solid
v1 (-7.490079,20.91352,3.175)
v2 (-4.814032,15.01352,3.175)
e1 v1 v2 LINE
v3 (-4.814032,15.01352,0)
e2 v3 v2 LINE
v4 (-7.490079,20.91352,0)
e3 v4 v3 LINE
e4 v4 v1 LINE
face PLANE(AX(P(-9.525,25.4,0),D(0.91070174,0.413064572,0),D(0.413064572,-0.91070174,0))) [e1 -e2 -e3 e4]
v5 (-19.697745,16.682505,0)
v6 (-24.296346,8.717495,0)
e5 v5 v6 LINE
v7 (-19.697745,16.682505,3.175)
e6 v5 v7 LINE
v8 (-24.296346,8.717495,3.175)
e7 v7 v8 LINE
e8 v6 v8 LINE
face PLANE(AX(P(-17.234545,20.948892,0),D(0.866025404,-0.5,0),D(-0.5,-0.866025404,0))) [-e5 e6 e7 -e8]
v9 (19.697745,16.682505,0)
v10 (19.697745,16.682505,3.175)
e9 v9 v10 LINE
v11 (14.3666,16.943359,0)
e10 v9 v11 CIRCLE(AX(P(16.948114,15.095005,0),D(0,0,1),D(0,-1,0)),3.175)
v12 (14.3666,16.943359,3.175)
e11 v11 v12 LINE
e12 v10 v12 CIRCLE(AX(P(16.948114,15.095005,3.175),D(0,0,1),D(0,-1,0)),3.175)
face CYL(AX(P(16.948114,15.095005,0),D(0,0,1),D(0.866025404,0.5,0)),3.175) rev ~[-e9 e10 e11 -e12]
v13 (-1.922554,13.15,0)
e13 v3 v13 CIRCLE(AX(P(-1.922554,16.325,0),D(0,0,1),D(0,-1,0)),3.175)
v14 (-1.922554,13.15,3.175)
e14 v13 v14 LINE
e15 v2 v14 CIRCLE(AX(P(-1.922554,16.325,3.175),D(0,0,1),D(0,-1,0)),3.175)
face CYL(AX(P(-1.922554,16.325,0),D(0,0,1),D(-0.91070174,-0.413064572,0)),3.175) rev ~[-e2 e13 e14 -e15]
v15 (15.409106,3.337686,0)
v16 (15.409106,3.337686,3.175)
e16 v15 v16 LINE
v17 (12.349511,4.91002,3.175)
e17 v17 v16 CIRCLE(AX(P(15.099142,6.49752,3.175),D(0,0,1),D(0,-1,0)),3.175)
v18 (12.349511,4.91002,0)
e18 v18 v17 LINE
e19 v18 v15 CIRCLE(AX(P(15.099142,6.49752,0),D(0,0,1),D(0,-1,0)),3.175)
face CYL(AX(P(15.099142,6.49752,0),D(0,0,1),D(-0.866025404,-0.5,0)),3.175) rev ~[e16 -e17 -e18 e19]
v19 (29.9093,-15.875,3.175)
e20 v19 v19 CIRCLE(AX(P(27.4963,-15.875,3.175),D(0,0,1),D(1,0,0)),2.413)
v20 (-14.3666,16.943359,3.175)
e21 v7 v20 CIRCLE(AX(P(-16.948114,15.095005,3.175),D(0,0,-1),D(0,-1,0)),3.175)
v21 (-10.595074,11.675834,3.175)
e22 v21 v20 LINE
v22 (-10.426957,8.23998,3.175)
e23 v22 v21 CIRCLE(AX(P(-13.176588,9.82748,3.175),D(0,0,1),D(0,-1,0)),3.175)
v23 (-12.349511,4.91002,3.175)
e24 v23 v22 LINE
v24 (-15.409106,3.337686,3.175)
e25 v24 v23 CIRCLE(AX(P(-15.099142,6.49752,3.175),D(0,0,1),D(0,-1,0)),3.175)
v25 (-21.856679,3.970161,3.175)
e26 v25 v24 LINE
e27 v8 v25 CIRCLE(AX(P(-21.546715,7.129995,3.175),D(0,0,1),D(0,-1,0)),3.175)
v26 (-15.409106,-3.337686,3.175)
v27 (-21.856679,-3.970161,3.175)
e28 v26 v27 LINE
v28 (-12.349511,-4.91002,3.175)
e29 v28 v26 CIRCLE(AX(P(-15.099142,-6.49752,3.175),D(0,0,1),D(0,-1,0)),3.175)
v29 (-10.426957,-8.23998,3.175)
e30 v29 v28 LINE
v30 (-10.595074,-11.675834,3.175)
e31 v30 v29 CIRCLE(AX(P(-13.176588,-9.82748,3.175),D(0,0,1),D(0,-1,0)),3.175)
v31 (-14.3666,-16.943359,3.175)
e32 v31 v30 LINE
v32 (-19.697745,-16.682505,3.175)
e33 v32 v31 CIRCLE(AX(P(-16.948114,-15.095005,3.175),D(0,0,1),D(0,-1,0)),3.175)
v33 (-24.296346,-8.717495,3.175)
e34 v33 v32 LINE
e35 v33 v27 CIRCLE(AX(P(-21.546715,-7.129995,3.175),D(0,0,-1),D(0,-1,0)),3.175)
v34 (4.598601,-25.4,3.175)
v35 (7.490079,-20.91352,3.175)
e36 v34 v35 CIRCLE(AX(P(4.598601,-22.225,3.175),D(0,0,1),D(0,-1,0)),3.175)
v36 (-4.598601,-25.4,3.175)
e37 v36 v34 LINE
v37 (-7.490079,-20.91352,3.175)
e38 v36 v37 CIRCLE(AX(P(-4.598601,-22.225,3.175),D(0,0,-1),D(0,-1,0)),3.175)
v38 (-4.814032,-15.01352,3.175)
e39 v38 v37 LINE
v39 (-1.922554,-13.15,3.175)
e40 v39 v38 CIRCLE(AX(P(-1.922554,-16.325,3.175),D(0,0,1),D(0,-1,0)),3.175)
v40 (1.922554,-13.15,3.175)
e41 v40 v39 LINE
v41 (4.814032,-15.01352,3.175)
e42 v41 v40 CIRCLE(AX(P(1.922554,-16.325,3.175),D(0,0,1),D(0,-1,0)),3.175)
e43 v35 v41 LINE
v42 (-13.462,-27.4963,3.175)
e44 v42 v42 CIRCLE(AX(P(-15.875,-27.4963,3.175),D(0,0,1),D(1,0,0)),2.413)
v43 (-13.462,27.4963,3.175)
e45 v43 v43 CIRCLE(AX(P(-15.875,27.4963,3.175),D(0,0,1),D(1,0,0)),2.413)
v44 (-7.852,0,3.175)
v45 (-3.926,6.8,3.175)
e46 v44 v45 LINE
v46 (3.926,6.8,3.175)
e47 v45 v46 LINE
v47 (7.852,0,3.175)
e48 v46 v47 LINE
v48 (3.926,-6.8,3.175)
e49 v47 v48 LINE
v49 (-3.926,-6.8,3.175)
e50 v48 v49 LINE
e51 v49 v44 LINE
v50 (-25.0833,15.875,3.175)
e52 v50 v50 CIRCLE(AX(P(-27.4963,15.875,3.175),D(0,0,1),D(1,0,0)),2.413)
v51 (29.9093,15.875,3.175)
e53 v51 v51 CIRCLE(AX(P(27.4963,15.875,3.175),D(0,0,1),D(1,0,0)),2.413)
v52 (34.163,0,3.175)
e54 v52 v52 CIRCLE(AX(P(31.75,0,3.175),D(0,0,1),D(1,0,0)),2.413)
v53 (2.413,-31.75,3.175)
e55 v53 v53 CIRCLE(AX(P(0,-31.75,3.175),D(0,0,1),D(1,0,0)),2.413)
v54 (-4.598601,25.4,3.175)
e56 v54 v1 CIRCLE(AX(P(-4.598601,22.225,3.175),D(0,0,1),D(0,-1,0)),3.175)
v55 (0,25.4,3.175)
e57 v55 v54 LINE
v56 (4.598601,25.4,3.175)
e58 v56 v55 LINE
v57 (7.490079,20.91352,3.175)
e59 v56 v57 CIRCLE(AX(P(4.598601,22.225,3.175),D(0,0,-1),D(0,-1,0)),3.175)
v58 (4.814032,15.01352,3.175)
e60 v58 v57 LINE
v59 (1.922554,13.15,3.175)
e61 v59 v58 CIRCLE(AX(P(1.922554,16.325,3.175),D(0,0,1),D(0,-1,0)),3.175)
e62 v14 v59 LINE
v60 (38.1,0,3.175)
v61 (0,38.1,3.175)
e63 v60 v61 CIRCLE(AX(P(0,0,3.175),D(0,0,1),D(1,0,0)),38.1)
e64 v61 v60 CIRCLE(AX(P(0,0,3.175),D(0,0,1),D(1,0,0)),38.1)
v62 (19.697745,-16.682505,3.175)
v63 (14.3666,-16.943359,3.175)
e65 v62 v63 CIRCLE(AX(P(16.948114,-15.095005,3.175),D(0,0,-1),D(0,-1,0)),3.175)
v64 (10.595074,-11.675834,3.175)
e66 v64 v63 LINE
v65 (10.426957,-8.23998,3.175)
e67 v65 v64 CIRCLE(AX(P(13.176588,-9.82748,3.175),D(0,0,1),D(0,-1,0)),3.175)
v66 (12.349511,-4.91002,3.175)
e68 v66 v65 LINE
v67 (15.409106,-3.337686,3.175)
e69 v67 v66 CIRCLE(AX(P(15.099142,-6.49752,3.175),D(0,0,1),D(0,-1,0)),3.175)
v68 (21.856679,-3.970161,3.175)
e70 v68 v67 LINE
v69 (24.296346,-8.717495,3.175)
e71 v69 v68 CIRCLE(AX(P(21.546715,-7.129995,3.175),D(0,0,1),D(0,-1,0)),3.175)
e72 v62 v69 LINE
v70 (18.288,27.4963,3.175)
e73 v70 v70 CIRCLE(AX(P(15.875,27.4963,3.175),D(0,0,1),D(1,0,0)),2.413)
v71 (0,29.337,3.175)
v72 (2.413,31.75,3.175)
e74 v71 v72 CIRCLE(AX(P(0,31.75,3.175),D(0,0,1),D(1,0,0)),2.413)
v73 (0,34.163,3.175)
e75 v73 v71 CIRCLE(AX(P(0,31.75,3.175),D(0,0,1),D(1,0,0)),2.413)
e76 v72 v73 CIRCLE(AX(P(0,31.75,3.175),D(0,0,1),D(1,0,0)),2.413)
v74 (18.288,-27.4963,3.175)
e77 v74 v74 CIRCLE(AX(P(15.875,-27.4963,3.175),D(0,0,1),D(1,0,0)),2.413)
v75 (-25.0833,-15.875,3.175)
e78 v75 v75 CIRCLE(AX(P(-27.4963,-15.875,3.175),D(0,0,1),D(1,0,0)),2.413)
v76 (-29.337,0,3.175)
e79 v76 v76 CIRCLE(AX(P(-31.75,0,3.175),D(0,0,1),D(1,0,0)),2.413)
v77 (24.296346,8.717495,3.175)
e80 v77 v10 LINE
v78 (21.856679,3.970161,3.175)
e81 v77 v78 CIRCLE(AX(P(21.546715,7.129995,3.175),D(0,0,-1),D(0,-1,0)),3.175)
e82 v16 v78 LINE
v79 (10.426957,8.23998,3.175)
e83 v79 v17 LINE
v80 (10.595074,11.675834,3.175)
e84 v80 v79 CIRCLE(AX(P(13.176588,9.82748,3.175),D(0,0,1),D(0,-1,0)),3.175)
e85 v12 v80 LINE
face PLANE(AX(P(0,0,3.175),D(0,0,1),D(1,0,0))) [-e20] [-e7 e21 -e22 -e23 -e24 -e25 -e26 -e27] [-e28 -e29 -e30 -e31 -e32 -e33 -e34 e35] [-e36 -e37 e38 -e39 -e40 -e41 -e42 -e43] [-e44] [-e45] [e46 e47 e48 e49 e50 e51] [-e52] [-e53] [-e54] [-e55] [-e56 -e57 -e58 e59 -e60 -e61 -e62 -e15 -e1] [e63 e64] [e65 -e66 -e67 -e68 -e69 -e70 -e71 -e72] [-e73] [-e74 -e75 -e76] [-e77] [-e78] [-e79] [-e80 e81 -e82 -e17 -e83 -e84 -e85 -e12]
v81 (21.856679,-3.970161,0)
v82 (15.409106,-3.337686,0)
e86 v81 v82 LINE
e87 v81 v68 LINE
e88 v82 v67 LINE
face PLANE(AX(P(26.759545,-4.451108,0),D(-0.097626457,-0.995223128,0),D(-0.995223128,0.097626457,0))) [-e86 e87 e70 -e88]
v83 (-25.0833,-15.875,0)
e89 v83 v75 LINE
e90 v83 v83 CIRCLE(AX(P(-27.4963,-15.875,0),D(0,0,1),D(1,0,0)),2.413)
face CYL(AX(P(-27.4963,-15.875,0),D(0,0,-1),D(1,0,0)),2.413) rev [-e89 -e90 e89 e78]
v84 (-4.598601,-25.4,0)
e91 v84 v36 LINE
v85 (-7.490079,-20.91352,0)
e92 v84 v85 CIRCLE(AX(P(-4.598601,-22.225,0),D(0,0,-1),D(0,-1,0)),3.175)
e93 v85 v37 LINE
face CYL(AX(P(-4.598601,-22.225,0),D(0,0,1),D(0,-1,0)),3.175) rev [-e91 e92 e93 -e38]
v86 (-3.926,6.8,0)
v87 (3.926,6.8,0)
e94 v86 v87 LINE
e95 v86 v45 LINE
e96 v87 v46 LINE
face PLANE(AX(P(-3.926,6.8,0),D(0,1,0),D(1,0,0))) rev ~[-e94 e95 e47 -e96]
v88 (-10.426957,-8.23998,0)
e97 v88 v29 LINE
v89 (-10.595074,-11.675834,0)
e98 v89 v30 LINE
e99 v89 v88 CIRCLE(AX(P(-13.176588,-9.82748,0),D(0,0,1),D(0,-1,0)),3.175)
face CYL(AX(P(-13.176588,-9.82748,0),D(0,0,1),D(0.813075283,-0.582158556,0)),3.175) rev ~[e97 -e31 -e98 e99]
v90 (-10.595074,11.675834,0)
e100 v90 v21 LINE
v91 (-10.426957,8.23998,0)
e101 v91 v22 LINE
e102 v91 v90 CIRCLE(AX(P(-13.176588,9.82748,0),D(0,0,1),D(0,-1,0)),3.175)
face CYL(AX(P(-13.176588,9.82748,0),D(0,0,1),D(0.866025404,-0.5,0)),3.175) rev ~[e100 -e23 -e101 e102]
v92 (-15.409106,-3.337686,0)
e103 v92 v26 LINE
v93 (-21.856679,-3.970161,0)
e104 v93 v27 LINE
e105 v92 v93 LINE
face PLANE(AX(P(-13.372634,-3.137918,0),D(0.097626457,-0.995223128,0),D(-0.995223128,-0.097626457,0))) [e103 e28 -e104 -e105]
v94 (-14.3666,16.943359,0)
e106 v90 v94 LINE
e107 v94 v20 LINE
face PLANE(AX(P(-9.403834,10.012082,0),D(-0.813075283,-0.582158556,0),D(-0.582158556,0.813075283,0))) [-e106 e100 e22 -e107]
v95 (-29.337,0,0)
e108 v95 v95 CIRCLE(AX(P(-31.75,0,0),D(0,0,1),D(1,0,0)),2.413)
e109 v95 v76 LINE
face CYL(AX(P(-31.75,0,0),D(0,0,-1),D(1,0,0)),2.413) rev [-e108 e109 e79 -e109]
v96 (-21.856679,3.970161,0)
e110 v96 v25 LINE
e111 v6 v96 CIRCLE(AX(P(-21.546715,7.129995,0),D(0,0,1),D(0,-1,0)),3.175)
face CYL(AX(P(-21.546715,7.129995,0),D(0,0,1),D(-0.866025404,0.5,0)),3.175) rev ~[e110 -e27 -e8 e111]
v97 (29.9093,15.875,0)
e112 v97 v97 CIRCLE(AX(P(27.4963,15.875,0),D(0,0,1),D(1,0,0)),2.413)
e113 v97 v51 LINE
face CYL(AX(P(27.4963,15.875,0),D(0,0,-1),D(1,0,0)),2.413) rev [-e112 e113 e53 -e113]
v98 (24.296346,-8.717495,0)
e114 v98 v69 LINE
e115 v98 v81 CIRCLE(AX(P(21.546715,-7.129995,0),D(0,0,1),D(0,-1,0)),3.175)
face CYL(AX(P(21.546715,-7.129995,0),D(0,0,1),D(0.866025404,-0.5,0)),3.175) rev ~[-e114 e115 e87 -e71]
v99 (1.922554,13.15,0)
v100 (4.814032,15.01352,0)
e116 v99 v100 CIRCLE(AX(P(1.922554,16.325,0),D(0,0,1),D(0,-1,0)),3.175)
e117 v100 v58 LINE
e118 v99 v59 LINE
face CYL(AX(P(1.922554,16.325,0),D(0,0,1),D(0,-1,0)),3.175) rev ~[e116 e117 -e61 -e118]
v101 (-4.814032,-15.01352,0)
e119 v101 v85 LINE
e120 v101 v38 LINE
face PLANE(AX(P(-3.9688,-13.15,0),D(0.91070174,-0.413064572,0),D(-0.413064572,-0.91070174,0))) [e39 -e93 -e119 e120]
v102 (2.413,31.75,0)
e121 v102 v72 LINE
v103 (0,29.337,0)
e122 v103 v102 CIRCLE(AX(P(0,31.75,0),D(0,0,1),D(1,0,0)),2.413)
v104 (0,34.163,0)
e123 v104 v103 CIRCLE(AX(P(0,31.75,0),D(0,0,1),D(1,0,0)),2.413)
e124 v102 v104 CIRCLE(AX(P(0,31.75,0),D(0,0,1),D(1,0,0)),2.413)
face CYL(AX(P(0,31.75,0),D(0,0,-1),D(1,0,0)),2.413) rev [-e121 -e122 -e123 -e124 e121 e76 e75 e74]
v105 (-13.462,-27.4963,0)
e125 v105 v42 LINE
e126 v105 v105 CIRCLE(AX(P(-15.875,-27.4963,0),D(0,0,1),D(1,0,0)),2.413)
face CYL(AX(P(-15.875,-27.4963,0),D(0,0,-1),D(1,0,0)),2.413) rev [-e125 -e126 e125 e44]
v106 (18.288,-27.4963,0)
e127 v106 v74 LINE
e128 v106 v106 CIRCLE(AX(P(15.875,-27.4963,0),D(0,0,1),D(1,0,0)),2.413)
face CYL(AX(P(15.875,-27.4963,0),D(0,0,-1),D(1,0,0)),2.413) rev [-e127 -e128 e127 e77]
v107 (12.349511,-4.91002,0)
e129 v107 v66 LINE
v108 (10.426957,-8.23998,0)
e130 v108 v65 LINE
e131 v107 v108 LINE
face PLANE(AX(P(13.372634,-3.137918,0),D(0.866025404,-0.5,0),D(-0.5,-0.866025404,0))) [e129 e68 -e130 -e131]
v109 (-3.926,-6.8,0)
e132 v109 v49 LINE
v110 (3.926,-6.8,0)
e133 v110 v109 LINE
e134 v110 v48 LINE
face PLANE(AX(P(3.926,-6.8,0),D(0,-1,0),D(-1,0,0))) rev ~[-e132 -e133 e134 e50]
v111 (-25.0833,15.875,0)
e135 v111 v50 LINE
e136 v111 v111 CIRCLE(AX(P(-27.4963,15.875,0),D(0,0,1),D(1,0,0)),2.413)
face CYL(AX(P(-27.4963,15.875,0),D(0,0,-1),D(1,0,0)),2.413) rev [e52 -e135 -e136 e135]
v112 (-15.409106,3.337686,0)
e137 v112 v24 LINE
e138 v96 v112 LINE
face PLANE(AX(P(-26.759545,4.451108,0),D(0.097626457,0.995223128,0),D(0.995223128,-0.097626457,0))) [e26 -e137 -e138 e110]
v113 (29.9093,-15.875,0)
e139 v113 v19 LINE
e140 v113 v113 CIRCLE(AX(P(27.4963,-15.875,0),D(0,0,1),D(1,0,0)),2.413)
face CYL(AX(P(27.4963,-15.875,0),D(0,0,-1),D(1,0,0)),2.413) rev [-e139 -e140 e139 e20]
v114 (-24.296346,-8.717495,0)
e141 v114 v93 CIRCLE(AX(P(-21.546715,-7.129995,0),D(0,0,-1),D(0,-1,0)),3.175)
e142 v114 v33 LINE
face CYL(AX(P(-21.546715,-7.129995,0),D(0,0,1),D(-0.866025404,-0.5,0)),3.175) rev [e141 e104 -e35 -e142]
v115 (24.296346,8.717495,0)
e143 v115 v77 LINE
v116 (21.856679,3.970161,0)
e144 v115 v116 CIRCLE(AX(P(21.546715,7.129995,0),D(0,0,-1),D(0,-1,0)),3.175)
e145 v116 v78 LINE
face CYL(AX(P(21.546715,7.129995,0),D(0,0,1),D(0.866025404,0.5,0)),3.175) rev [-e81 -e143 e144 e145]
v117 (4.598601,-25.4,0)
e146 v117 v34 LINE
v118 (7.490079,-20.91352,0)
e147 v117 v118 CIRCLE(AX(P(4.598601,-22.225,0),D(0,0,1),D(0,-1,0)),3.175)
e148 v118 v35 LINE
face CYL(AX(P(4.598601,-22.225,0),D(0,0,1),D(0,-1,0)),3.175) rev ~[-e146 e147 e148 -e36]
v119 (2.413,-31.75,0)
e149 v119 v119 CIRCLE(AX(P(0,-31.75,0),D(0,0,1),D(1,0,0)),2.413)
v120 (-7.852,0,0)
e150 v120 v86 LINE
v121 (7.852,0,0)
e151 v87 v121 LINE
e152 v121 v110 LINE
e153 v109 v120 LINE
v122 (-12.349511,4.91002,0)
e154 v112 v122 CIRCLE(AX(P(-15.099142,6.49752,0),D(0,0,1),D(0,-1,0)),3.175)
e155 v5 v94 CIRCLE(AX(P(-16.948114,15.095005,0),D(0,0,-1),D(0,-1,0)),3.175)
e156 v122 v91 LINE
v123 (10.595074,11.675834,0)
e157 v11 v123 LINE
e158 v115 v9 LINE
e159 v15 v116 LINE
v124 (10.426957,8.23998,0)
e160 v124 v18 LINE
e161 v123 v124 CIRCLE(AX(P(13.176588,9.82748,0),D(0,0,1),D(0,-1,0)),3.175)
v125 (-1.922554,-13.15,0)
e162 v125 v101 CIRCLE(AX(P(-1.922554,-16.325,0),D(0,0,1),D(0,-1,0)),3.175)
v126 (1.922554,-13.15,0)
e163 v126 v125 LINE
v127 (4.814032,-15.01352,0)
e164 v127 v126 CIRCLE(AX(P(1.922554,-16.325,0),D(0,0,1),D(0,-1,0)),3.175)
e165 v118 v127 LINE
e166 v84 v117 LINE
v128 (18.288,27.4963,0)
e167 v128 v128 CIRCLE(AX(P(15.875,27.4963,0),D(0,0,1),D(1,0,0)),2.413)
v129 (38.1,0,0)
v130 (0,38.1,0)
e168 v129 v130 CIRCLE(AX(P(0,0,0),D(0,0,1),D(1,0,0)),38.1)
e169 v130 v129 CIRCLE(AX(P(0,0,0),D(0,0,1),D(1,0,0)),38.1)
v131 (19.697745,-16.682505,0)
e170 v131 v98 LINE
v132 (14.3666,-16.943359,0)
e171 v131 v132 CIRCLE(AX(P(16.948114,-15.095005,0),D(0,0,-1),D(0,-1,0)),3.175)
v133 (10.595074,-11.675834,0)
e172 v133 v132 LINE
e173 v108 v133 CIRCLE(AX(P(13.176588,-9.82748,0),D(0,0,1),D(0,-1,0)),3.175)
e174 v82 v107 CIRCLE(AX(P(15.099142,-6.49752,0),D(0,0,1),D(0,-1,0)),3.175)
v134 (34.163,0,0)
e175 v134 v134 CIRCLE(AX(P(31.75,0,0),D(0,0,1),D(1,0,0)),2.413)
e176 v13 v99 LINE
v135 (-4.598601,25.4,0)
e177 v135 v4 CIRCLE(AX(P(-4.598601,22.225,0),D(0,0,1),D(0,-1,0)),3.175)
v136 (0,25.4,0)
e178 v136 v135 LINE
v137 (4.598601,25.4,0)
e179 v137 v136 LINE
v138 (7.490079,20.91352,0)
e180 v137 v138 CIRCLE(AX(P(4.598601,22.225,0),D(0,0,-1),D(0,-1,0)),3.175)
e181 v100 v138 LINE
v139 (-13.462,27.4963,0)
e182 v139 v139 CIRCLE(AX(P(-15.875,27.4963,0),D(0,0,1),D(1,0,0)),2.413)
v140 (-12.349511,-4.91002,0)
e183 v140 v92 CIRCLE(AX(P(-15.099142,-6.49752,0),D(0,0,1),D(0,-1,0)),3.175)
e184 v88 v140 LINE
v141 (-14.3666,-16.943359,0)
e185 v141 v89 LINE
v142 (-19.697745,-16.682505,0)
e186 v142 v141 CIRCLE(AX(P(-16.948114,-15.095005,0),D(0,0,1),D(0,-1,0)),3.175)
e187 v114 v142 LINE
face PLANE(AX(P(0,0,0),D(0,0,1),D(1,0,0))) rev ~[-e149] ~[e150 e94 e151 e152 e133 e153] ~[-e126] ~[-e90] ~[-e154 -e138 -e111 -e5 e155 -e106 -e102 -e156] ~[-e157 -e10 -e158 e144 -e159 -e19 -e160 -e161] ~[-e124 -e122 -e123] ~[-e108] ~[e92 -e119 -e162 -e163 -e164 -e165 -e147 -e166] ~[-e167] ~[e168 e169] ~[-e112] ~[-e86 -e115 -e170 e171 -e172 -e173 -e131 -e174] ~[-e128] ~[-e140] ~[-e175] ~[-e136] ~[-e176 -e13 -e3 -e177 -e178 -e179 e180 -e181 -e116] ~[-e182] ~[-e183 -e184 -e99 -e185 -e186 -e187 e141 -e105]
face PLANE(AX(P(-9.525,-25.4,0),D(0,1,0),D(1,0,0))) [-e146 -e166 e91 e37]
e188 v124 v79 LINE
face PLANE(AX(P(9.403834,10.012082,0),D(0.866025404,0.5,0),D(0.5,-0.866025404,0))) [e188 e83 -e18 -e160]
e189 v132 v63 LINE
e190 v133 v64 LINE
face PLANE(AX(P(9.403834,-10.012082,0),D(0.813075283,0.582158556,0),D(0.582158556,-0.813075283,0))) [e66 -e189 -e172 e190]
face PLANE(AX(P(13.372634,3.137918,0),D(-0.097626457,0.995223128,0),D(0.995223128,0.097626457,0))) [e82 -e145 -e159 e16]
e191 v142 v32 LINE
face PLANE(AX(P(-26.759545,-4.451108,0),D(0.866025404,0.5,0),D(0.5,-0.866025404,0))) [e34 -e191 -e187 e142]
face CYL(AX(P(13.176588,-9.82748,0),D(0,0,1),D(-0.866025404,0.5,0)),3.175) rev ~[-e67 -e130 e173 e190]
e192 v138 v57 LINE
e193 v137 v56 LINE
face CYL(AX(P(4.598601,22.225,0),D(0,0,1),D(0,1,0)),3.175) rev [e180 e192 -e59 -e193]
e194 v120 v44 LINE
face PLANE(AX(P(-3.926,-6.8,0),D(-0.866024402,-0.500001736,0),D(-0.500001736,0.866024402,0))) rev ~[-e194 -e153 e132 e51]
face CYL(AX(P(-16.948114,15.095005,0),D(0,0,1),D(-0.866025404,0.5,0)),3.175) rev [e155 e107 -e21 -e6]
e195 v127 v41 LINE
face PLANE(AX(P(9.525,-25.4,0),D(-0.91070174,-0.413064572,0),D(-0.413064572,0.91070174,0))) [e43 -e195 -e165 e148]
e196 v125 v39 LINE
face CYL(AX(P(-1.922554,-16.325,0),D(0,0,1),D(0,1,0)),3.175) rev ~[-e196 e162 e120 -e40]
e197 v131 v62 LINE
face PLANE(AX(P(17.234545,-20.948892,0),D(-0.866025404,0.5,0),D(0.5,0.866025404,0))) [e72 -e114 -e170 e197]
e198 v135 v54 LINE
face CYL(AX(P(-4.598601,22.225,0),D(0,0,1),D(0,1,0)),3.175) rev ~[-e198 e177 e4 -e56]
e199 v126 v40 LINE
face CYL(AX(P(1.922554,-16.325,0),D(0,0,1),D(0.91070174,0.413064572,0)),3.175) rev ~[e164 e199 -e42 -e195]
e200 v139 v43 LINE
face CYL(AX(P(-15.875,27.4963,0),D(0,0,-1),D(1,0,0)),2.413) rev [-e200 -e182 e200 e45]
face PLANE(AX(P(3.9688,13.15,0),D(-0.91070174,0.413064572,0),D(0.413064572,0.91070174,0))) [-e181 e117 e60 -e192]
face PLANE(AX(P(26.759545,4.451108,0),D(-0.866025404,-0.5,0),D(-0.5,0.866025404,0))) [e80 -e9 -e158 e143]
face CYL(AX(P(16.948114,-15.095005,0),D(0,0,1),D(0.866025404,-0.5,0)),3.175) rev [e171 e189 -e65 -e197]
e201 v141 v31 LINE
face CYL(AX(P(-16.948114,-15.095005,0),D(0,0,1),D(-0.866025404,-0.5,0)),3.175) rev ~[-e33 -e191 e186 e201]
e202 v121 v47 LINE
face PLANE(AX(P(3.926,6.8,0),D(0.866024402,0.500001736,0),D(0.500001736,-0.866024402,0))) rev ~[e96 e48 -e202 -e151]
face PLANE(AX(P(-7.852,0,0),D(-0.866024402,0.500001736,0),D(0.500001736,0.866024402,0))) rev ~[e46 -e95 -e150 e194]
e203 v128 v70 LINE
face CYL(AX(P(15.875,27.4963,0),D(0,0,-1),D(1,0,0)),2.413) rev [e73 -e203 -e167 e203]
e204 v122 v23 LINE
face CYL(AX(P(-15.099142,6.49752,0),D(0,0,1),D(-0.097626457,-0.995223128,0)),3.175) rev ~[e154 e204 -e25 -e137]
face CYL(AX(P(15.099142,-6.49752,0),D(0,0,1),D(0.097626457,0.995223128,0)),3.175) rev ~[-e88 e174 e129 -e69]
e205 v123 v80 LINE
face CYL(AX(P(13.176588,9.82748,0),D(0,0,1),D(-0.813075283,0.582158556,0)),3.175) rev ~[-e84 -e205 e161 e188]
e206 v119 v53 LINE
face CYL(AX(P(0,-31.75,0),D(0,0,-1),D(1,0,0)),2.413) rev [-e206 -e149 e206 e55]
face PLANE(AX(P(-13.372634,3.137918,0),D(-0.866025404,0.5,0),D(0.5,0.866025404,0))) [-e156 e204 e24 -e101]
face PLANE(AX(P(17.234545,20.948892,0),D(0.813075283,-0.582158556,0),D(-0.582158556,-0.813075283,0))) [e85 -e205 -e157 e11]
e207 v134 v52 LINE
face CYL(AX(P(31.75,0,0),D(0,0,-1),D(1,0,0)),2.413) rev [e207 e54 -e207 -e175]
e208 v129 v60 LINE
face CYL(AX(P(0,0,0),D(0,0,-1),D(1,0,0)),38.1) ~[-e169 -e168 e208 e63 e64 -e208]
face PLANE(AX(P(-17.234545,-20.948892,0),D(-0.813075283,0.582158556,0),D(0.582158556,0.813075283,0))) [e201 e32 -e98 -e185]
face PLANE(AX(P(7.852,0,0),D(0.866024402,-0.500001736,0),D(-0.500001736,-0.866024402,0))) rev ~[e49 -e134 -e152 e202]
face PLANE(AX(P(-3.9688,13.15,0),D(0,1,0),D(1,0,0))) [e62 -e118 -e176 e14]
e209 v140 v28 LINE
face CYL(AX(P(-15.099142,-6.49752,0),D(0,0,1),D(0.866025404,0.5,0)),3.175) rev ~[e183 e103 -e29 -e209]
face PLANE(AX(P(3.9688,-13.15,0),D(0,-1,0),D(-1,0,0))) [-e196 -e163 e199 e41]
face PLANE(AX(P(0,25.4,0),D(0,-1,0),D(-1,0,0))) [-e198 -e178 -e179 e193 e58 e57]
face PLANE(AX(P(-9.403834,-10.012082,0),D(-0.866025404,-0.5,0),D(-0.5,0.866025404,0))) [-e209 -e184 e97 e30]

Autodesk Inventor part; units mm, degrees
ref_plane "YZ Plane" through (0, 0, 0) normal (1, 0, 0) x (0, 1, 0)
ref_plane "XZ Plane" through (0, 0, 0) normal (0, 1, 0) x (-1, 0, 0)
ref_plane "XY Plane" through (0, 0, 0) normal (0, 0, 1) x (1, 0, 0)
sketch "Sketch1" plane through (0, 0, 0) normal (0, 0, 1) x (1, 0, 0)
  circle A0 centre (0, 0) radius 38.1
  line L0 (7.852, 0) -> (3.926, -6.8)
  line L1 (3.926, -6.8) -> (-3.926, -6.8)
  line L2 (-3.926, -6.8) -> (-7.852, 0)
  line L3 (-7.852, 0) -> (-3.926, 6.8)
  line L4 (-3.926, 6.8) -> (3.926, 6.8)
  line L5 (3.926, 6.8) -> (7.852, 0)
  circle A1 centre (0, 0) radius 31.75 construction
  circle A2 centre (0, 31.75) radius 2.413
  circle A3 centre (-15.875, 27.4963) radius 2.413
  circle A4 centre (-27.4963, 15.875) radius 2.413
  circle A5 centre (-31.75, 0) radius 2.413
  circle A6 centre (-27.4963, -15.875) radius 2.413
  circle A7 centre (-15.875, -27.4963) radius 2.413
  circle A8 centre (0, -31.75) radius 2.413
  circle A9 centre (15.875, -27.4963) radius 2.413
  circle A10 centre (27.4963, -15.875) radius 2.413
  circle A11 centre (31.75, 0) radius 2.413
  circle A12 centre (27.4963, 15.875) radius 2.413
  circle A13 centre (15.875, 27.4963) radius 2.413
  line L6 (-9.525, 25.4) -> (-3.9688, 13.15)
  line L7 (-3.9688, 13.15) -> (3.9688, 13.15)
  line L8 (3.9688, 13.15) -> (9.525, 25.4)
  line L9 (9.525, 25.4) -> (-9.525, 25.4)
  line L10 (0, -53.34) -> (0, 53.34) construction
  circle A14 centre (0, 0) radius 25.4 construction
  line L11 (0, 29.337) -> (0, 25.4)
  line L12 (0, 38.1) -> (0, 25.4)
  dimension "d0" = 76.2
  dimension "d2" = 63.5
  dimension "d3" = 4.826
  dimension "d1" = 13.6
  dimension "d6" = 360
  dimension "d16" = 6.35
  dimension "d18" = 7.9375
  dimension "d19" = 19.05
  dimension "d20" = 12.7
extrude "Extrusion1" add sketch "Sketch1" along normal blind 3.175 contours L9 L8 L7 L6 | A0
extrude "Extrusion2" cut sketch "Sketch1" along normal blind 3.175 contours L9 L8 L7 L6
fillet "Fillet1" radius 3.175 4 edges at (-9.525, 25.4, 1.5875) (9.525, 25.4, 1.5875) (-3.9688, 13.15, 1.5875) (3.9688, 13.15, 1.5875)
pattern_circular "Circular Pattern1" count 6 over 360 about axis through (0, 0, 0) along (0, 0, 1) of "Extrusion2", "Fillet1"
properties part number "ThickWheelPlate_v83DPrintable" material "Steel, Alloy"
